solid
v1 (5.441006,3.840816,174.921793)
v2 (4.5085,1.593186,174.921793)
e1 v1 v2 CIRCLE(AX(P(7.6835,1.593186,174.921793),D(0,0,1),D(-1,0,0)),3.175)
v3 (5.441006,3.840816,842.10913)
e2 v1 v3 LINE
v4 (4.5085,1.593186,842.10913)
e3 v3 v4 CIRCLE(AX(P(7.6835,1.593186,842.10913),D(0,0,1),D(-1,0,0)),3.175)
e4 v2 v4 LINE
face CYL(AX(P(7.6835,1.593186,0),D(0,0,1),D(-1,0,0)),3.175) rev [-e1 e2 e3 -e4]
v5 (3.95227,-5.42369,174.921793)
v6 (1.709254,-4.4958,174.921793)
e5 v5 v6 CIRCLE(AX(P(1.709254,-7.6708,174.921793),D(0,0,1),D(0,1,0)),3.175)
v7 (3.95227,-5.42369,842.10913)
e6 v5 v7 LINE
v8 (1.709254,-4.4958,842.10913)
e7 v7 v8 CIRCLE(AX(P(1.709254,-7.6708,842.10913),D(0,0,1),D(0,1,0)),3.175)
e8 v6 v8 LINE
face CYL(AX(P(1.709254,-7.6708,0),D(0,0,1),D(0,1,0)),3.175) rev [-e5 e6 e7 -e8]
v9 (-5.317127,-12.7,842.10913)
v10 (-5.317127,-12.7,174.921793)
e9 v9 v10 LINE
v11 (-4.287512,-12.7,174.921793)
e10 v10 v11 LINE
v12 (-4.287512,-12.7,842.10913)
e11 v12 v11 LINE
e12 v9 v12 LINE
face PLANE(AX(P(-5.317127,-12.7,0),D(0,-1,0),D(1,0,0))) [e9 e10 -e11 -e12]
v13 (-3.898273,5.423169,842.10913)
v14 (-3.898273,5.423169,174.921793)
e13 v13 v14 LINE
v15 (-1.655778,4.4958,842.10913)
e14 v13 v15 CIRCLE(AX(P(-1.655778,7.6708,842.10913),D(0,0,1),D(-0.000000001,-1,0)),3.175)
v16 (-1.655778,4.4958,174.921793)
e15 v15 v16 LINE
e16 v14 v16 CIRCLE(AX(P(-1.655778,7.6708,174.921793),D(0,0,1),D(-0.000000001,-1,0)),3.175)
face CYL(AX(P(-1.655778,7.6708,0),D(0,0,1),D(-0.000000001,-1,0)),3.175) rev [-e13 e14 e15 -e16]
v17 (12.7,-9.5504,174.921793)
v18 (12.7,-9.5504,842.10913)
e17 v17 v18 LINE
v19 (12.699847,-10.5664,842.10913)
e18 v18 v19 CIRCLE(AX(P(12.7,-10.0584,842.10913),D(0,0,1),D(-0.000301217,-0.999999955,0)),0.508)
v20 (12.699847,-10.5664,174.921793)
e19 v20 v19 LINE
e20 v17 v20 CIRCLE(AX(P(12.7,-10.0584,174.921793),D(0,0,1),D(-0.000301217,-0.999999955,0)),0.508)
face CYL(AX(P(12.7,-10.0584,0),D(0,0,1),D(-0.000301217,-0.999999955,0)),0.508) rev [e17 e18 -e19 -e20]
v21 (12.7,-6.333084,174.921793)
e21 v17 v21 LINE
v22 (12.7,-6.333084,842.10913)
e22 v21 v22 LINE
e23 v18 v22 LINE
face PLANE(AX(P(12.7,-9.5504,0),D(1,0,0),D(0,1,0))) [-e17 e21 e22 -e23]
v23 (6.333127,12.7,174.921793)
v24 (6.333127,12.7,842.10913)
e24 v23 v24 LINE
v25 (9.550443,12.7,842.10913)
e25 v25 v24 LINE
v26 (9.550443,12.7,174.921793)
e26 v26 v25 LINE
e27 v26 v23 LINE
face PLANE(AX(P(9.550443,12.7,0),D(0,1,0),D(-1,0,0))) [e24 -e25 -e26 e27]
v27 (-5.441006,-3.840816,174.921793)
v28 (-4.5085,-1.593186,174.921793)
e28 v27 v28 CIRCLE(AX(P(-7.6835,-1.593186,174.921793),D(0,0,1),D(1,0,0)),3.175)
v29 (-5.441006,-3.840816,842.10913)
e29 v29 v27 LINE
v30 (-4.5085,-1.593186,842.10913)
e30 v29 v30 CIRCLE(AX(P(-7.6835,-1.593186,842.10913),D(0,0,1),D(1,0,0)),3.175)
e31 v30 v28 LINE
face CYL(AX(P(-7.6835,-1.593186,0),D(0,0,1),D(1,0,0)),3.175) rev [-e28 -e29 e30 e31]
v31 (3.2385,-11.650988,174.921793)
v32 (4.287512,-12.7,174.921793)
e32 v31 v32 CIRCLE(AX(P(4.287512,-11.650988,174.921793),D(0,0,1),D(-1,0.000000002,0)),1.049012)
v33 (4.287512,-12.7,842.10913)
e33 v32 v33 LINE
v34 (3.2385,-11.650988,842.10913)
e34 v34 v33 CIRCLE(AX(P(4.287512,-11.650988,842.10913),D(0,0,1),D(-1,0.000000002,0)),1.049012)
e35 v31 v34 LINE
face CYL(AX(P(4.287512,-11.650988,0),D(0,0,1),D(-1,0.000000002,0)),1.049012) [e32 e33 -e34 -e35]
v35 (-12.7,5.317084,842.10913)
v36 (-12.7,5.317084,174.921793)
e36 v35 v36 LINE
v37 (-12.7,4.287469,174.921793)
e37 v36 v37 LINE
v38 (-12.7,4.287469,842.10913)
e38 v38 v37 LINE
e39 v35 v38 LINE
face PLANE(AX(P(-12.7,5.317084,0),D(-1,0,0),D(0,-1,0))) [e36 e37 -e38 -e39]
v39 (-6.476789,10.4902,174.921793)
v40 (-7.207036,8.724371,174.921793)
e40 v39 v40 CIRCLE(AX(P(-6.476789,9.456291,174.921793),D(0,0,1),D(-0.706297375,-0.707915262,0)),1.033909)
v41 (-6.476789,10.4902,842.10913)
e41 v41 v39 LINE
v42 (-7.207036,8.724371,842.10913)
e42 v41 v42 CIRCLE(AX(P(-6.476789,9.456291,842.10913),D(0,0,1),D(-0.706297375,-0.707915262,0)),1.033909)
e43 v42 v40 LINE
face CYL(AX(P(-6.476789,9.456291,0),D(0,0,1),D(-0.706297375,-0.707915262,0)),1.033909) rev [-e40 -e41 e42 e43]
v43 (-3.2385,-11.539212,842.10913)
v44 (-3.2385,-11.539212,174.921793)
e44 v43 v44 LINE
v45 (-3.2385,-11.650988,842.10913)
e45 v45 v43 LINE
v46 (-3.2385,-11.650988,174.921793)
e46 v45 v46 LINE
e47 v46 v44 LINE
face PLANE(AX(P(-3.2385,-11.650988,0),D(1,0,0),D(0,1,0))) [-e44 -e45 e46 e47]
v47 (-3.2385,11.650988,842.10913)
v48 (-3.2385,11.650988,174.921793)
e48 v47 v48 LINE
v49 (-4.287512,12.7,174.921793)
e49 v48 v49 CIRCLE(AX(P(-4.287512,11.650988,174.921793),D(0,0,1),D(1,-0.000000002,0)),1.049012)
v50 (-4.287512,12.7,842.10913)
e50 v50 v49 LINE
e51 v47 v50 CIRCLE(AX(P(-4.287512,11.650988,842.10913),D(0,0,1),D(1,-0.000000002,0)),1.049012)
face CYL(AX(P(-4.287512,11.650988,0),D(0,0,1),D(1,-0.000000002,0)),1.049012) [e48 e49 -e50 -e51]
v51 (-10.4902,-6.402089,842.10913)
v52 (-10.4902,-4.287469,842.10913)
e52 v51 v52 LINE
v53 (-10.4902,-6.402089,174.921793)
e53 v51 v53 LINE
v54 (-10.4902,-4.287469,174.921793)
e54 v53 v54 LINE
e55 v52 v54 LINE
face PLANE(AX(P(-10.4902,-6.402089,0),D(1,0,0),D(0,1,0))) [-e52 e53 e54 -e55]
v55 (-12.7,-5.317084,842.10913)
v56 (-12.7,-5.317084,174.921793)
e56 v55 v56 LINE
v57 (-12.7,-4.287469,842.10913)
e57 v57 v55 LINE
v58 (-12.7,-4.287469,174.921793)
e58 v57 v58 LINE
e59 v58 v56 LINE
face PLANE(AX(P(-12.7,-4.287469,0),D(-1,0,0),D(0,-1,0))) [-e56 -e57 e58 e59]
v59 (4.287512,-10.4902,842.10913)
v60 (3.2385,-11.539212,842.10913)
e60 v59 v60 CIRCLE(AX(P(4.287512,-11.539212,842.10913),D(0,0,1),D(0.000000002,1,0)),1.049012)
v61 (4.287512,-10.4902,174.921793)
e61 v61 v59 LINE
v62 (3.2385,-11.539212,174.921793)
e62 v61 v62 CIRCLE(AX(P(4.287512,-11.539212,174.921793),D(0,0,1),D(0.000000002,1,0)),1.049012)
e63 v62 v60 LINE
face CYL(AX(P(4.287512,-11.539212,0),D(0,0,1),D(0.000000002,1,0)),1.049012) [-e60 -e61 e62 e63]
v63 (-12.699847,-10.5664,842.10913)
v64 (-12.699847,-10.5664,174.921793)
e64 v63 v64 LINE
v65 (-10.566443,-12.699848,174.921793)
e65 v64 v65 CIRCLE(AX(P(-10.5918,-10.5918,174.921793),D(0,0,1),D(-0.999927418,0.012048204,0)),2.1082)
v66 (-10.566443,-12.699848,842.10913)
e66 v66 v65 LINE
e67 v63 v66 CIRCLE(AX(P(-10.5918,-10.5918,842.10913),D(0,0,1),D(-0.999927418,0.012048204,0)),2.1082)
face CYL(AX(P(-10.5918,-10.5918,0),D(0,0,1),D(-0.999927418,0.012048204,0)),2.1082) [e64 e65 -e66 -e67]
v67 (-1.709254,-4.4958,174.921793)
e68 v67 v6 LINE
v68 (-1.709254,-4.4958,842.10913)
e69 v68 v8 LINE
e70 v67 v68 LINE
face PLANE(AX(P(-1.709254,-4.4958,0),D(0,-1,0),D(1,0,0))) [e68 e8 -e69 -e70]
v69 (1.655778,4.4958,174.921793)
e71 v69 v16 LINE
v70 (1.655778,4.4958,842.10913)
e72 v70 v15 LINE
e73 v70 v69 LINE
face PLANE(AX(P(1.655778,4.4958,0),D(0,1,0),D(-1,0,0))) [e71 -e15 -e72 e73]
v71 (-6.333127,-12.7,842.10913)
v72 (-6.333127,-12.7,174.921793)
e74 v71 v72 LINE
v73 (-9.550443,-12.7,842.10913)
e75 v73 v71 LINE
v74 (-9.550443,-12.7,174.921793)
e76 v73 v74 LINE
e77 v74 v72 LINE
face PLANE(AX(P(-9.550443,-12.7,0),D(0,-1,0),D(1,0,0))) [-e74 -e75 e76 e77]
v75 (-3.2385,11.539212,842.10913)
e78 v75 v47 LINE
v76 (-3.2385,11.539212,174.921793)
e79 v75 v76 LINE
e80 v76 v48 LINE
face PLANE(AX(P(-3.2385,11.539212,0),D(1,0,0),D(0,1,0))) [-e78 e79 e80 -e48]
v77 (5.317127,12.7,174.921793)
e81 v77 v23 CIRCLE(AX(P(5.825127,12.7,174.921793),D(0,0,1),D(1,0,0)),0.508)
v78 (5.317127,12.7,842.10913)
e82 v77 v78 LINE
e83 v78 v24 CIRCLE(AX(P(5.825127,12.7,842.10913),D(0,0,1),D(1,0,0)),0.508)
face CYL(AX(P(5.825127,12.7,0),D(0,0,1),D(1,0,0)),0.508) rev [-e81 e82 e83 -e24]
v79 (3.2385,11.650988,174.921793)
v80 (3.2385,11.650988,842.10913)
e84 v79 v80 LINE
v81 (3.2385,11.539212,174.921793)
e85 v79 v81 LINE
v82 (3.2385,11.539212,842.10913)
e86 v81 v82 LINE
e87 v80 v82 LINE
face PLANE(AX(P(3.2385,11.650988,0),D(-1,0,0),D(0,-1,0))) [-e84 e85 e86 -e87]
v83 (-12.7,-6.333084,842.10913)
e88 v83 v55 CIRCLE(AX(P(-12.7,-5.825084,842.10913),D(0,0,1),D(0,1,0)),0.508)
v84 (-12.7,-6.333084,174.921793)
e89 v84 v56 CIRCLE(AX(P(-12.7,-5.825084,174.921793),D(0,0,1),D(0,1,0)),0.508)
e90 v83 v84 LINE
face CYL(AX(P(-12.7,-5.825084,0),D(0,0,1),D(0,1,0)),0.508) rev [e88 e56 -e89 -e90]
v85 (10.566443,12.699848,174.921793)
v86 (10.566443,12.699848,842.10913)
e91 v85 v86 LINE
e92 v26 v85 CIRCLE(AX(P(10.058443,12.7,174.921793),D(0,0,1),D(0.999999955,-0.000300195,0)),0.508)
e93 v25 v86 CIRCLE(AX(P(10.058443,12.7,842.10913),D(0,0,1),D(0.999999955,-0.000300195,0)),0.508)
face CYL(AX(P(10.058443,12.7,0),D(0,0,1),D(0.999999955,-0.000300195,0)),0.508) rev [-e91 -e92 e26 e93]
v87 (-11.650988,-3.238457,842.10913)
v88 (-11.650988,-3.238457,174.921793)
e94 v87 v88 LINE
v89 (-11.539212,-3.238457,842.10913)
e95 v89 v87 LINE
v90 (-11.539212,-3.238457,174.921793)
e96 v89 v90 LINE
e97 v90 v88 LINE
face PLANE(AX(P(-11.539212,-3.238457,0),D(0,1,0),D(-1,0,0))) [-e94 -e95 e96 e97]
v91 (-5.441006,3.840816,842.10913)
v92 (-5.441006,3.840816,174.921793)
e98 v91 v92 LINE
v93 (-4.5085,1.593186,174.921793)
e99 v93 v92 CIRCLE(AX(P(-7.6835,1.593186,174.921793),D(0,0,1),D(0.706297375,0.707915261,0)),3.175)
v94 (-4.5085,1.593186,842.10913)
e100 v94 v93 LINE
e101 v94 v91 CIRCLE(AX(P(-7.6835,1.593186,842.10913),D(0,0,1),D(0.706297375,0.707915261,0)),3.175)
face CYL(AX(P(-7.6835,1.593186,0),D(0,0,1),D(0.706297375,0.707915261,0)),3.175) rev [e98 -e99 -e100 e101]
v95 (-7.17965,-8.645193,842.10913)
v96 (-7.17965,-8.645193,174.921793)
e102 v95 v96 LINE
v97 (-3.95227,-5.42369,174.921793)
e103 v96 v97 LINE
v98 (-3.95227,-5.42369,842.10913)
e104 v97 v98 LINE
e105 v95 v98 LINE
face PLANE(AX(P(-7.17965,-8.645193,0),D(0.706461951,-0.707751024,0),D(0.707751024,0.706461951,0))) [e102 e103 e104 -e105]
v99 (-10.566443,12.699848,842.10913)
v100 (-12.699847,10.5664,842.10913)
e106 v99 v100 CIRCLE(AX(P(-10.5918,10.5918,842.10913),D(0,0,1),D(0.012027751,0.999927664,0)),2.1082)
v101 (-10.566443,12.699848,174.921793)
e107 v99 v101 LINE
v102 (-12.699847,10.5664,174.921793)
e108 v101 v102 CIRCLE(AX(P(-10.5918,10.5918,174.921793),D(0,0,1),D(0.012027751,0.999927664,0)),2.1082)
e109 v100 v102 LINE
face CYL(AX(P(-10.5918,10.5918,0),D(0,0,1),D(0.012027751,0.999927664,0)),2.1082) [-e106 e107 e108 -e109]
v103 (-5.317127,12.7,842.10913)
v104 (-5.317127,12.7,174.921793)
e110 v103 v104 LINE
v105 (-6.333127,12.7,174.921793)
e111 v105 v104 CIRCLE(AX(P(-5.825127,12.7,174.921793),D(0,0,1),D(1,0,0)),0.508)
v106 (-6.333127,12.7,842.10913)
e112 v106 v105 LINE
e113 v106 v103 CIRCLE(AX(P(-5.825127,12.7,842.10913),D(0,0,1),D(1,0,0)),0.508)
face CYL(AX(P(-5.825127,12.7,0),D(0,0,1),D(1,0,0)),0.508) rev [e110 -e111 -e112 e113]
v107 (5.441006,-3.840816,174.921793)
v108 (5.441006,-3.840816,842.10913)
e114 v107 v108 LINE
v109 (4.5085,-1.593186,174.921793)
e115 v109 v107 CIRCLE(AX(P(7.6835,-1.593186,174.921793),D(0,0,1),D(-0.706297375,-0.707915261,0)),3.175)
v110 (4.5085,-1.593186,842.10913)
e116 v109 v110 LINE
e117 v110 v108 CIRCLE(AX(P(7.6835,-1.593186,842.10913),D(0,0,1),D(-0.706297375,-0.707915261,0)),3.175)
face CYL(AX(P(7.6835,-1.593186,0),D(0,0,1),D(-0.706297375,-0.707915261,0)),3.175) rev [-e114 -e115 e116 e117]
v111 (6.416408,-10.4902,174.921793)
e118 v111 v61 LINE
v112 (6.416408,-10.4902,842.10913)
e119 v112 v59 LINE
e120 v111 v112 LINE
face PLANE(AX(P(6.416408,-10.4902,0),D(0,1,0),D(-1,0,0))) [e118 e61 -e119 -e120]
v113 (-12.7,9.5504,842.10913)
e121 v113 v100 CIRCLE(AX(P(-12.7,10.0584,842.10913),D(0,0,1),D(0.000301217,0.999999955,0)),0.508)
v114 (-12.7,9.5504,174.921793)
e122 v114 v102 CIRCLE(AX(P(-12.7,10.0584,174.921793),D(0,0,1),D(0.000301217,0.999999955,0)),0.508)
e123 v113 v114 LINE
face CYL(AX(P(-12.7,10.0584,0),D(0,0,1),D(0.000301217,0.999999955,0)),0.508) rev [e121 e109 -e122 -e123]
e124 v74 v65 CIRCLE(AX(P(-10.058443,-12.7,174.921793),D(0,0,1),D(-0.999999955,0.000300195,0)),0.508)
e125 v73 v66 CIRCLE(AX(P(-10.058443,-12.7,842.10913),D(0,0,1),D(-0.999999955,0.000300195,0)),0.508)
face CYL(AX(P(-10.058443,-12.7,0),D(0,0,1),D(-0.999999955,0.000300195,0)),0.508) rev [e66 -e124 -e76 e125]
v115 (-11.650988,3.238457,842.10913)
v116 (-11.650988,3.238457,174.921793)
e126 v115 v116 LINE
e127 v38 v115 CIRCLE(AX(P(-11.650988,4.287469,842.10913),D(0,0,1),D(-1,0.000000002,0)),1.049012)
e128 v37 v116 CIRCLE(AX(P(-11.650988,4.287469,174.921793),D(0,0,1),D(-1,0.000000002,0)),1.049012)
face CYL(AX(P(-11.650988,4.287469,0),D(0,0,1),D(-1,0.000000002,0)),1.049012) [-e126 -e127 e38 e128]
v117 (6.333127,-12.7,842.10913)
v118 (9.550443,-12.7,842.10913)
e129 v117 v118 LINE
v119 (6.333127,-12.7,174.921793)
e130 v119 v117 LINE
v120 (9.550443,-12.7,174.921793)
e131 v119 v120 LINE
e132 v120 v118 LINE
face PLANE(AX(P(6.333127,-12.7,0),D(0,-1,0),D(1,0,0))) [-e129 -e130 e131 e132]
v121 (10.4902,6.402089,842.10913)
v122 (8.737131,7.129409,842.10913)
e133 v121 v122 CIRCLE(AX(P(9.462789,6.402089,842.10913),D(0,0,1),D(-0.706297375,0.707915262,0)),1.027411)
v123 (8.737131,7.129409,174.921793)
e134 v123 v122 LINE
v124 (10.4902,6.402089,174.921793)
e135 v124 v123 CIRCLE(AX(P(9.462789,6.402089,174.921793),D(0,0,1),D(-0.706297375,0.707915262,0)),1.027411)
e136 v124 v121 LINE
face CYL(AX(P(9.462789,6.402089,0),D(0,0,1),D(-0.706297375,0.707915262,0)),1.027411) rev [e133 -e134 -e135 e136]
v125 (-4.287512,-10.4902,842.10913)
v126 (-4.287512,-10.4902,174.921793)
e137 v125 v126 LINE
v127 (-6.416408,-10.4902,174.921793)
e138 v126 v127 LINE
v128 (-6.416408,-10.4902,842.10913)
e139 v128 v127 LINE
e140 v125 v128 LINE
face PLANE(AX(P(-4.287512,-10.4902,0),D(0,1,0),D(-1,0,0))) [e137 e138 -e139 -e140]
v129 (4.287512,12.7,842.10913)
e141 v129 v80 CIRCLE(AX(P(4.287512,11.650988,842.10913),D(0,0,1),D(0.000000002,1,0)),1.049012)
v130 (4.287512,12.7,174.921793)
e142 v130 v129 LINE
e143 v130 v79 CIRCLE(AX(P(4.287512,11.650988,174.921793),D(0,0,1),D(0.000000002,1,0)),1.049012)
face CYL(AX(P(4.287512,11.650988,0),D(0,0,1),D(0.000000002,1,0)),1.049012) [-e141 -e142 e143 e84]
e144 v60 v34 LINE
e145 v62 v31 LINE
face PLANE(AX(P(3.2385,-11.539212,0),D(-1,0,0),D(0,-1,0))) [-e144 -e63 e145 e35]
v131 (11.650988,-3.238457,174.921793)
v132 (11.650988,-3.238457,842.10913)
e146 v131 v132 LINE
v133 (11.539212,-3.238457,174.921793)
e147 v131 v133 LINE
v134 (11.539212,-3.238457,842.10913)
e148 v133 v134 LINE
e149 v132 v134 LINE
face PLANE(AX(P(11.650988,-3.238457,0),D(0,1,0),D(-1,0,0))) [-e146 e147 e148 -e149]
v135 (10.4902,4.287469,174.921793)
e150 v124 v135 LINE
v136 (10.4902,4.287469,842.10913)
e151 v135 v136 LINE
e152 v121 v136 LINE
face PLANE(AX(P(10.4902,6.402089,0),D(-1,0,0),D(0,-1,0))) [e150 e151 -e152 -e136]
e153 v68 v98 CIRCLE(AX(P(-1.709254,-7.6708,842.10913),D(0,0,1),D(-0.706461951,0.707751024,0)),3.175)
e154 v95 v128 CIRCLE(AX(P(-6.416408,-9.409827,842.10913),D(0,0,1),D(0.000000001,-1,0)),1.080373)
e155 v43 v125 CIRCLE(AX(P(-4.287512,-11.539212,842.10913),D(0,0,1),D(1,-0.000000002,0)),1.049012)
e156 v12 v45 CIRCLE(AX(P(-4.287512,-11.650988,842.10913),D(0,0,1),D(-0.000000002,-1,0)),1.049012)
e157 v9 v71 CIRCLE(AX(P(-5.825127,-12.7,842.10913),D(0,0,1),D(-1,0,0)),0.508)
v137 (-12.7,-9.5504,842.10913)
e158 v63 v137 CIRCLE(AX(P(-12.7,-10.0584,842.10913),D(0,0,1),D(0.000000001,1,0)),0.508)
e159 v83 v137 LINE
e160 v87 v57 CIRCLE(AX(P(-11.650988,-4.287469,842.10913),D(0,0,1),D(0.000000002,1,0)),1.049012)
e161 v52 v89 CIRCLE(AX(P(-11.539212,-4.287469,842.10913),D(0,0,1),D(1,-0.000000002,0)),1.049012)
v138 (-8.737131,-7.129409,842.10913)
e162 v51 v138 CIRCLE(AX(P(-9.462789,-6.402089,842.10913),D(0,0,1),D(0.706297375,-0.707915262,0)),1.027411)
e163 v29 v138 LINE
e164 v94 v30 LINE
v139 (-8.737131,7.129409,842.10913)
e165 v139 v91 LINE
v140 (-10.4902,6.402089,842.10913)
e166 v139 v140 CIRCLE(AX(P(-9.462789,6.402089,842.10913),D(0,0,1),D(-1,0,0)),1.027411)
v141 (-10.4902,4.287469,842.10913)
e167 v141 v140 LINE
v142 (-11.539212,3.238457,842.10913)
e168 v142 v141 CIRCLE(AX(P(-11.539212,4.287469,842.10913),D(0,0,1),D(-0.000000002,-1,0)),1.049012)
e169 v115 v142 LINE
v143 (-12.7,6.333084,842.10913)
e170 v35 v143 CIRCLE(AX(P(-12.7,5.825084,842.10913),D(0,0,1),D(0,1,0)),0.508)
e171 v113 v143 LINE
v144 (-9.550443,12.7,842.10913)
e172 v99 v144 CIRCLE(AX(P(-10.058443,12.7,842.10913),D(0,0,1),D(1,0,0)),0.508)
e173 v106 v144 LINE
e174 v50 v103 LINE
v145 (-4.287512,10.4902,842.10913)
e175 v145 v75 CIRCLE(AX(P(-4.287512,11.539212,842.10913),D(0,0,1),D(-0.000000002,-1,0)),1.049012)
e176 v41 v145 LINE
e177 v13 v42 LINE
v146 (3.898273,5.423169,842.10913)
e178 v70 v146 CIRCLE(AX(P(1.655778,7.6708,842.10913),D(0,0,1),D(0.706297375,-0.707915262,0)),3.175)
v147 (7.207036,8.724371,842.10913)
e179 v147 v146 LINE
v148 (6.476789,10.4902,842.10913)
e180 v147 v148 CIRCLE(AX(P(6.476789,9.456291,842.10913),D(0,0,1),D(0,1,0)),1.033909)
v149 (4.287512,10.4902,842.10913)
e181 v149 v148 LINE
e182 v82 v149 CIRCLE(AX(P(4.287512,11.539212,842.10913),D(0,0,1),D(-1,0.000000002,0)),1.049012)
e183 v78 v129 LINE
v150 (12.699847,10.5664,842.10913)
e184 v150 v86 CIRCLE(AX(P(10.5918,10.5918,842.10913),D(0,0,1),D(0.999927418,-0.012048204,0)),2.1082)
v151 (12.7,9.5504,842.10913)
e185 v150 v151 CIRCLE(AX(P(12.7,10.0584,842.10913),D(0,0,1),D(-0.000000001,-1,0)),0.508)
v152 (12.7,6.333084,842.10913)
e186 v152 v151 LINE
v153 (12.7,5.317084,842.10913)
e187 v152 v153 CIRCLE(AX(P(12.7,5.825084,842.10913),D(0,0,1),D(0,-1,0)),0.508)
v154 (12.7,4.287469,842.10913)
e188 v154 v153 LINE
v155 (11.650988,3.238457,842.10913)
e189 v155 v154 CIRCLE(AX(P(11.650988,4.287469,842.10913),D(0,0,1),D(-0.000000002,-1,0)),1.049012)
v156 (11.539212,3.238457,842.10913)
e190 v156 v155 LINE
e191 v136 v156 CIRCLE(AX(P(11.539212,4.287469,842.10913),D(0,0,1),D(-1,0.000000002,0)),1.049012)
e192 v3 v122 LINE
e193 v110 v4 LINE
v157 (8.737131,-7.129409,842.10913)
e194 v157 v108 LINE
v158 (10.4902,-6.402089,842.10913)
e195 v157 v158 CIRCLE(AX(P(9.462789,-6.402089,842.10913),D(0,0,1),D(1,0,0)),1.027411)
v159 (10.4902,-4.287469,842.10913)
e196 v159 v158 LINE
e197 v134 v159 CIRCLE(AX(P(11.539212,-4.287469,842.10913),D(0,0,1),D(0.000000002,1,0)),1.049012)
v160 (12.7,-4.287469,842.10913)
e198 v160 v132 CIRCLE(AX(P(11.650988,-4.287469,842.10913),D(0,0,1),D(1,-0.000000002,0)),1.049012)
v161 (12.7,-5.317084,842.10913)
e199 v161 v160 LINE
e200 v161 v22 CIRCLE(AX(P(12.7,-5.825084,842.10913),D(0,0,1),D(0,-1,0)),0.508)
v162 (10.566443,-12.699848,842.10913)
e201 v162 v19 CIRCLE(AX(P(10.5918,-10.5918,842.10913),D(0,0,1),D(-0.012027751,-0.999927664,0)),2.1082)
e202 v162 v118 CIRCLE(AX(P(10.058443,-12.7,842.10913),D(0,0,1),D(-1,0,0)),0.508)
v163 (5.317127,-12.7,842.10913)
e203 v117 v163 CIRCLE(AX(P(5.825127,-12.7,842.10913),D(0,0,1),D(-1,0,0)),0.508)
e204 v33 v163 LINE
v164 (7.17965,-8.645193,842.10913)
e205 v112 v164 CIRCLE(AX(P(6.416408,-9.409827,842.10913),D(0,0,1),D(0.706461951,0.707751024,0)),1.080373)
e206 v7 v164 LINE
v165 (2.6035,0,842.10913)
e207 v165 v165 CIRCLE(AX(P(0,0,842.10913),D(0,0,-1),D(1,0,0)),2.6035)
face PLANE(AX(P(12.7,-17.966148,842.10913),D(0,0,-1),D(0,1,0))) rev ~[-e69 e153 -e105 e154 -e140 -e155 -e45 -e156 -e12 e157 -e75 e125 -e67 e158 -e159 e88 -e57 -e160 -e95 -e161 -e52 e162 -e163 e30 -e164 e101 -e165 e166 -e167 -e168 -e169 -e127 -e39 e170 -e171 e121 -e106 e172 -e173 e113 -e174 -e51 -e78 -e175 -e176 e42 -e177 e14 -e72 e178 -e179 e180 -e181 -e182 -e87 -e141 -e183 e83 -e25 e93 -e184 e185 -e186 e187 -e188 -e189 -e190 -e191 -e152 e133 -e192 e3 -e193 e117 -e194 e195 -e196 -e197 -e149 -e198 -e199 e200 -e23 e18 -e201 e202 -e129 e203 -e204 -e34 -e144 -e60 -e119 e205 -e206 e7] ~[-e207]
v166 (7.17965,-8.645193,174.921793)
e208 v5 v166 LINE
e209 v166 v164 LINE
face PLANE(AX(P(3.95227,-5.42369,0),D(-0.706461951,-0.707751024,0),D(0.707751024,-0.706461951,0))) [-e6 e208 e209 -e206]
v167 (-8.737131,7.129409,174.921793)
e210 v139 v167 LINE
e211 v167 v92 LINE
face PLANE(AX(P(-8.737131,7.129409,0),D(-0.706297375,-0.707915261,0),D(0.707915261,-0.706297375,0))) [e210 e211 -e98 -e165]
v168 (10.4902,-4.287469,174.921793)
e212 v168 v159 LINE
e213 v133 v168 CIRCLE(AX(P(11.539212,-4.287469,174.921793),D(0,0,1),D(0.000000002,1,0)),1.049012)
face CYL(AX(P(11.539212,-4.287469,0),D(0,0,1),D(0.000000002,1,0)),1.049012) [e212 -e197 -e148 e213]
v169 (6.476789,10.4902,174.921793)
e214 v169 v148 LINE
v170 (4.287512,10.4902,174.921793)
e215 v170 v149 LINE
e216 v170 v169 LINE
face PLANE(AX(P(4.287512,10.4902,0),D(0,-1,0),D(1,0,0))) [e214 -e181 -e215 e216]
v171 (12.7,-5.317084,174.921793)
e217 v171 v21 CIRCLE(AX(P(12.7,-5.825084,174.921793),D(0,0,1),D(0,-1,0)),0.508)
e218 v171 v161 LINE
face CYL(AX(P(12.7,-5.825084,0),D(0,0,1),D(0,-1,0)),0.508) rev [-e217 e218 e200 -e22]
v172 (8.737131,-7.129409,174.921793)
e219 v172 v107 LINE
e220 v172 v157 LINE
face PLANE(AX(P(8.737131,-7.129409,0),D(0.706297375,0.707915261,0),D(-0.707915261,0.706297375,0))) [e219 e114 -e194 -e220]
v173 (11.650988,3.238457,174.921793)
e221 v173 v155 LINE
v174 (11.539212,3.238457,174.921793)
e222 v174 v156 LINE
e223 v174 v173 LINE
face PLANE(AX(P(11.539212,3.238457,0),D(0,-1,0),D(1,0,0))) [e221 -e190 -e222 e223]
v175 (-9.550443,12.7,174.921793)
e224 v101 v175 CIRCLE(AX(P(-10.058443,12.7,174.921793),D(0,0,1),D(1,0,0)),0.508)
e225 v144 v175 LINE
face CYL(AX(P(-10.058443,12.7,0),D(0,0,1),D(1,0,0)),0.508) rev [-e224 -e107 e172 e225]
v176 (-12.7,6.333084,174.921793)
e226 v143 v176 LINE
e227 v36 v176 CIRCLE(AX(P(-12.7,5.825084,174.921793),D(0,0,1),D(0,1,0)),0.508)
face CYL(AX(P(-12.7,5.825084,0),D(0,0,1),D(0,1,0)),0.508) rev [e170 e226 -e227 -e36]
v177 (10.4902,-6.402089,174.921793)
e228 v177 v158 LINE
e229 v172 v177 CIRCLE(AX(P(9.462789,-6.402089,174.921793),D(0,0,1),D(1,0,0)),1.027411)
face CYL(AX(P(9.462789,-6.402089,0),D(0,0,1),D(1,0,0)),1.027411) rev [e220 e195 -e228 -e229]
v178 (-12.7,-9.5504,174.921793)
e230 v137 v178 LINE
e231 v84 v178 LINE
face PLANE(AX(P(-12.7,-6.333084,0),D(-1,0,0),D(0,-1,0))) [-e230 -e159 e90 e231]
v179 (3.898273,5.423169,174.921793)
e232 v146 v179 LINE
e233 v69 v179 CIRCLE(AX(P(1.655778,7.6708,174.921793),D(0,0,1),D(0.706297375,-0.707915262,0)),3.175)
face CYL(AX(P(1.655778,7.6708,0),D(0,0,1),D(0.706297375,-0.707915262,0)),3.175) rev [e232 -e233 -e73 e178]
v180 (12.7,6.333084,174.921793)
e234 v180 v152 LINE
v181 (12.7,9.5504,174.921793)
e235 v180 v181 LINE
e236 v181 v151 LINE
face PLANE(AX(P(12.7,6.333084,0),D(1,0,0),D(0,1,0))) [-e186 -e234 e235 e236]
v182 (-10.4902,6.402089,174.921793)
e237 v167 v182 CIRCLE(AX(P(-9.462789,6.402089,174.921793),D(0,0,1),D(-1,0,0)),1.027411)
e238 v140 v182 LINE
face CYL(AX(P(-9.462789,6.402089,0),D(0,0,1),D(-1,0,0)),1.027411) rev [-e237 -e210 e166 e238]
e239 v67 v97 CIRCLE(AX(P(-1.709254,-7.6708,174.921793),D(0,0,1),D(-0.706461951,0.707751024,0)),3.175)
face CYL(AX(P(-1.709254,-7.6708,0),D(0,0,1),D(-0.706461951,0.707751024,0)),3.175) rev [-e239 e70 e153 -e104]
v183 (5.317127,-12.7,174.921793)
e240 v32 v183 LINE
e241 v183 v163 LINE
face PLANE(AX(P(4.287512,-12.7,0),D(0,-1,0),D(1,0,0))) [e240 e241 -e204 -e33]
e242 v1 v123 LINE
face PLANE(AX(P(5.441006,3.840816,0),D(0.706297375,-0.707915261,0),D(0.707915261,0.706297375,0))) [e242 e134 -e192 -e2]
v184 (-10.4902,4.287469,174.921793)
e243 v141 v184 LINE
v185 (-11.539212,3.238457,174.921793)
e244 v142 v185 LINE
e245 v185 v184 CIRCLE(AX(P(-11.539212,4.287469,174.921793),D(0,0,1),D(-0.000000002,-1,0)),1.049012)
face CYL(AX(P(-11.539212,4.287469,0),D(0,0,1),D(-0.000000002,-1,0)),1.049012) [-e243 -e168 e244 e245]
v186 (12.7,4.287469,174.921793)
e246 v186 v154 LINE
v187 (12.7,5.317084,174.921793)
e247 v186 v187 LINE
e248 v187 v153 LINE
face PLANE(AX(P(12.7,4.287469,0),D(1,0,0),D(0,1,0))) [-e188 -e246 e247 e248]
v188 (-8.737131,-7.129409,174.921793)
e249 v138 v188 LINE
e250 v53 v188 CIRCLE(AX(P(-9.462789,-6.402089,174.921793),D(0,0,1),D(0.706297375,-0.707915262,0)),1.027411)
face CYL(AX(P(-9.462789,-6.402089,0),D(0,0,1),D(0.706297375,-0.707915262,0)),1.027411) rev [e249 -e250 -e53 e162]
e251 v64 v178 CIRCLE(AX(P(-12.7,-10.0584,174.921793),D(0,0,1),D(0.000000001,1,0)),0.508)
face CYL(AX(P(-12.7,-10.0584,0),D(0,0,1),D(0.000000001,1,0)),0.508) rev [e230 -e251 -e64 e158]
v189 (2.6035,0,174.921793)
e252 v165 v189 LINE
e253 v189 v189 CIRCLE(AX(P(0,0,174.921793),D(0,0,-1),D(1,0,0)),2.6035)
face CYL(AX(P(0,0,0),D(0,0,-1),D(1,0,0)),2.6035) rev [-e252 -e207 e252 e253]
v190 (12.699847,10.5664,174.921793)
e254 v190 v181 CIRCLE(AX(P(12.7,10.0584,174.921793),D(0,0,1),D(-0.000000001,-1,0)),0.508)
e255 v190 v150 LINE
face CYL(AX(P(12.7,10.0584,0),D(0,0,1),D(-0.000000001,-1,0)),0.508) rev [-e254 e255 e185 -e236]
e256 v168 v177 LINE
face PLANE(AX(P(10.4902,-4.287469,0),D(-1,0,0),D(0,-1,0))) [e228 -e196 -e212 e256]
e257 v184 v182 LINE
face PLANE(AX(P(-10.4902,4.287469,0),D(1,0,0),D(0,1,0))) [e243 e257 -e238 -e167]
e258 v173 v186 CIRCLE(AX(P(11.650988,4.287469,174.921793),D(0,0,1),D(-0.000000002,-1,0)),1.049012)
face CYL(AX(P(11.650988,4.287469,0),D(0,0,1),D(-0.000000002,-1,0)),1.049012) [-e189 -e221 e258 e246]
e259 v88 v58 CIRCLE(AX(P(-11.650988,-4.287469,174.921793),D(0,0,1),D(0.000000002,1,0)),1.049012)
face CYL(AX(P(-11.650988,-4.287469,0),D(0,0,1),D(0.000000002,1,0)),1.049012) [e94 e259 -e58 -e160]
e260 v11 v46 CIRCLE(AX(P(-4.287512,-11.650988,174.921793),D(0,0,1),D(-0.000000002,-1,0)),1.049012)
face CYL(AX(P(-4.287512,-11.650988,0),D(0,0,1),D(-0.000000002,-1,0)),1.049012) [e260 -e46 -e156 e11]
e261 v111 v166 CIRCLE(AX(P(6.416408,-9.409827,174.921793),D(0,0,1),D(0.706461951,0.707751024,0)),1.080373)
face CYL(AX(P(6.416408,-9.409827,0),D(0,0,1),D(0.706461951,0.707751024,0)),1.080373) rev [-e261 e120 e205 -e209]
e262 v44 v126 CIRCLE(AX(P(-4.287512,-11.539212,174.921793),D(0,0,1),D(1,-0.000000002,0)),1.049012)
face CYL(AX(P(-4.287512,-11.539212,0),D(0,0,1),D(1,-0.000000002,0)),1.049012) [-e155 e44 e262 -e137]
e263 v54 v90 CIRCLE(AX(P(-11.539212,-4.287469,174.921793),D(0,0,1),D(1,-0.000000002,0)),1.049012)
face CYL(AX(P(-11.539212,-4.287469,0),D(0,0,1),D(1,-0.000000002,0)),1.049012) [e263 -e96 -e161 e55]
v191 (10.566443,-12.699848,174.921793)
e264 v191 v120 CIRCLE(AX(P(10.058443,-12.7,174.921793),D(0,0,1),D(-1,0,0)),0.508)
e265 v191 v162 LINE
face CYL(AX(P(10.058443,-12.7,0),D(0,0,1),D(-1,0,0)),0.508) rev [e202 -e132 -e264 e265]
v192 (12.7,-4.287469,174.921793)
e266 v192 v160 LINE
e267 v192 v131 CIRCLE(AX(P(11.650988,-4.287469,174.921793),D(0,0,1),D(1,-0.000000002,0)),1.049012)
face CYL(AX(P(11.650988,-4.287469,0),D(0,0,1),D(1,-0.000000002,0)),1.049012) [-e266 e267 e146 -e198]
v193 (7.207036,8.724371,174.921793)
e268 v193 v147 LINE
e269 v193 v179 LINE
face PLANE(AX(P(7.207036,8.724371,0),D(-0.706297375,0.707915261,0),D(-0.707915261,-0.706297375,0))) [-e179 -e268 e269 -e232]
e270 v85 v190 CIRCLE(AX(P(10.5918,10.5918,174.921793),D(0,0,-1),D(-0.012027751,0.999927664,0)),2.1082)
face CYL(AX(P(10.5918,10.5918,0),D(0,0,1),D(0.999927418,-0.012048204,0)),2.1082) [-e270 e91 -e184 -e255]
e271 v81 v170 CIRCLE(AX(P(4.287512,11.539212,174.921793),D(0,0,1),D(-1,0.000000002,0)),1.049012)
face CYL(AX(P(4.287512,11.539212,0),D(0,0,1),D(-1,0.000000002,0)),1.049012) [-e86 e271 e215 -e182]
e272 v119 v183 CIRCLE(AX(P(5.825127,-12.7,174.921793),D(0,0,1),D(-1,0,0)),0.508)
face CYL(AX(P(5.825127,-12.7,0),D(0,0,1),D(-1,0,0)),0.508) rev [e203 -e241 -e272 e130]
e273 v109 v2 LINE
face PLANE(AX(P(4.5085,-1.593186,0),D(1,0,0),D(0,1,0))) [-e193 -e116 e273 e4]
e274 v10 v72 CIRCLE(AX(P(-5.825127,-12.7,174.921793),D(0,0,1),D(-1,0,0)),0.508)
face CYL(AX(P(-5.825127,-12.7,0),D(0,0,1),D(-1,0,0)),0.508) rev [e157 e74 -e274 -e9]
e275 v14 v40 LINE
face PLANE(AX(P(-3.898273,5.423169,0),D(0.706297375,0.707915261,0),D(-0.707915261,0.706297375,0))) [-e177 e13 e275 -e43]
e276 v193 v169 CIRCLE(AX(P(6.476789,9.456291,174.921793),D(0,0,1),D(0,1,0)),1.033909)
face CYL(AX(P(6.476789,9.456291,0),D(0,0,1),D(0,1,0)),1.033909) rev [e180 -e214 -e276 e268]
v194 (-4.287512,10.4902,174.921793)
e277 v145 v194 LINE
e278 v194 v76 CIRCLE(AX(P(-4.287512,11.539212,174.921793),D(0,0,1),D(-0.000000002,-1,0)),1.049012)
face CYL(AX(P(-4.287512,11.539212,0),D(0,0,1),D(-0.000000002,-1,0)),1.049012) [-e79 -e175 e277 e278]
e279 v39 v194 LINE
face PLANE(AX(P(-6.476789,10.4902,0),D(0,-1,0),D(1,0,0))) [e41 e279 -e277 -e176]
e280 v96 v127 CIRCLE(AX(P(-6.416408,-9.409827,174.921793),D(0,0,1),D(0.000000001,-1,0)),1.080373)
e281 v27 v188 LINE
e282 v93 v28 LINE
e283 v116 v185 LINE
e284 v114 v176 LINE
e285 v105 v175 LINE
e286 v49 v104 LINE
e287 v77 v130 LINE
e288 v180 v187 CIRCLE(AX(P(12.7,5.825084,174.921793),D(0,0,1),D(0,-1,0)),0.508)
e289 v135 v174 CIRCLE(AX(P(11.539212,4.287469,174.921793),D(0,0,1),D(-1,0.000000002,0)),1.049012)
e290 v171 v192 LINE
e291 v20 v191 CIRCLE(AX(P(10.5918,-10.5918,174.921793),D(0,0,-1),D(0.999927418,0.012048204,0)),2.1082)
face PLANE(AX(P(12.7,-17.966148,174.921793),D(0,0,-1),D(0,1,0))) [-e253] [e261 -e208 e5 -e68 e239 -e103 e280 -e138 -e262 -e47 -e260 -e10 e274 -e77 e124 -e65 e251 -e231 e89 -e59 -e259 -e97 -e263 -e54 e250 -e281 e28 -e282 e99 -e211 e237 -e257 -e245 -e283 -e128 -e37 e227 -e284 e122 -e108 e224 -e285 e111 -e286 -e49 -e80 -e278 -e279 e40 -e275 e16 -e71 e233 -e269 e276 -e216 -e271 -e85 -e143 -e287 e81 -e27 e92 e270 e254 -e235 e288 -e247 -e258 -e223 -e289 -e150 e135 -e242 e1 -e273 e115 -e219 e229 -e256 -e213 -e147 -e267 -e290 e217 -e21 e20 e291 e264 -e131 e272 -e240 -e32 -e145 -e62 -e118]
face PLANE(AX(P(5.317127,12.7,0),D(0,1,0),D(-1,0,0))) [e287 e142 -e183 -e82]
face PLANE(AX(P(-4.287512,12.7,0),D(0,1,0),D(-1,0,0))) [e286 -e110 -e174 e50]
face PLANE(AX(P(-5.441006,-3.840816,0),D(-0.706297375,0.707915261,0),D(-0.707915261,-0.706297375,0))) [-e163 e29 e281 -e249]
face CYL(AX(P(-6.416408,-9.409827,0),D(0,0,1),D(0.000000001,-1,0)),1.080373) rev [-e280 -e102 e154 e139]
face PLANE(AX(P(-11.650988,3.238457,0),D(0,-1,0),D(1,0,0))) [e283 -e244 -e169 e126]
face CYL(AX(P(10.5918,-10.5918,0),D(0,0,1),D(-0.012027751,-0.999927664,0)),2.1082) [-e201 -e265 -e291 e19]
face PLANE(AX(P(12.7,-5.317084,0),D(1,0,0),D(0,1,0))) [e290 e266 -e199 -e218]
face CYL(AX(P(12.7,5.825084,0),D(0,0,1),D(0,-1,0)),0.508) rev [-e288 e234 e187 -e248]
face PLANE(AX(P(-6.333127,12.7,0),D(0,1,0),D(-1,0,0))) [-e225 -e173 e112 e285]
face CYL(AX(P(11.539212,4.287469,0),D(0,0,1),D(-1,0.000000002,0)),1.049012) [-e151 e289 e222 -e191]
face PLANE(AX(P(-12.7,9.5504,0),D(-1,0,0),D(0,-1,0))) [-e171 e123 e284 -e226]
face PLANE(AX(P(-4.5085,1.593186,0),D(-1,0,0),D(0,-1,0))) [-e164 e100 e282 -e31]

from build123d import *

# Parameters (mm, degrees)
SKETCH1_R           = 2.6035
BOSS_EXTRUDE1_DEPTH = 914.4
SKETCH2_W           = 76.348142357
SKETCH2_H           = 34.760821459
SKETCH2_W_2         = 1099.97900941
SKETCH2_H_2         = 36.169365112
CUT_EXTRUDE1_DEPTH  = 27.432


with BuildPart() as part:
    # Sketch1 → Boss-Extrude1 (new body, symmetric)
    with BuildSketch(Plane.XY):
        with BuildLine():
            Line((-7.179650497, -8.645192506), (-3.952270251, -5.423690499))
            ThreePointArc((-3.952270251, -5.423690499), (-2.922936451, -4.736929036), (-1.709253557, -4.4958))
            Line((-1.709253557, -4.4958), (1.709253557, -4.4958))
            ThreePointArc((1.709253557, -4.4958), (2.922936451, -4.736929036), (3.952270251, -5.423690499))
            Line((3.952270251, -5.423690499), (7.179650497, -8.645192506))
            ThreePointArc((7.179650497, -8.645192506), (7.41473083, -9.822813117), (6.416408329, -10.4902))
            Line((6.416408329, -10.4902), (4.287512407, -10.4902))
            ThreePointArc((4.287512407, -10.4902), (3.54574862, -10.79744862), (3.2385, -11.539212407))
            Line((3.2385, -11.539212407), (3.2385, -11.650987593))
            ThreePointArc((3.2385, -11.650987593), (3.54574862, -12.39275138), (4.287512407, -12.7))
            Line((4.287512407, -12.7), (5.317126718, -12.7))
            ThreePointArc((5.317126718, -12.7), (5.825126718, -12.192), (6.333126718, -12.7))
            Line((6.333126718, -12.7), (9.550443118, -12.7))
            ThreePointArc((9.550443118, -12.7), (10.058366869, -12.192000006), (10.566443095, -12.699847501))
            ThreePointArc((10.566443095, -12.699847501), (12.082537762, -12.08250727), (12.699846982, -10.566399977))
            ThreePointArc((12.699846982, -10.566399977), (12.192000006, -10.058323491), (12.7, -9.5504))
            Line((12.7, -9.5504), (12.7, -6.3330836))
            ThreePointArc((12.7, -6.3330836), (12.192, -5.8250836), (12.7, -5.3170836))
            Line((12.7, -5.3170836), (12.7, -4.287469289))
            ThreePointArc((12.7, -4.287469289), (12.39275138, -3.545705502), (11.650987593, -3.238456882))
            Line((11.650987593, -3.238456882), (11.539212407, -3.238456882))
            ThreePointArc((11.539212407, -3.238456882), (10.79744862, -3.545705502), (10.4902, -4.287469289))
            Line((10.4902, -4.287469289), (10.4902, -6.402089023))
            ThreePointArc((10.4902, -6.402089023), (9.856505071, -7.351067942), (8.737131347, -7.129408934))
            Line((8.737131347, -7.129408934), (5.441005833, -3.840816462))
            ThreePointArc((5.441005833, -3.840816462), (4.750877967, -2.809883091), (4.5085, -1.593185507))
            Line((4.5085, -1.593185507), (4.5085, 1.593185507))
            ThreePointArc((4.5085, 1.593185507), (4.750877967, 2.809883091), (5.441005833, 3.840816462))
            Line((5.441005833, 3.840816462), (8.737131347, 7.129408934))
            ThreePointArc((8.737131347, 7.129408934), (9.856505071, 7.351067942), (10.4902, 6.402089023))
            Line((10.4902, 6.402089023), (10.4902, 4.287469289))
            ThreePointArc((10.4902, 4.287469289), (10.79744862, 3.545705502), (11.539212407, 3.238456882))
            Line((11.539212407, 3.238456882), (11.650987593, 3.238456882))
            ThreePointArc((11.650987593, 3.238456882), (12.39275138, 3.545705502), (12.7, 4.287469289))
            Line((12.7, 4.287469289), (12.7, 5.3170836))
            ThreePointArc((12.7, 5.3170836), (12.192, 5.8250836), (12.7, 6.3330836))
            Line((12.7, 6.3330836), (12.7, 9.5504))
            ThreePointArc((12.7, 9.5504), (12.192000006, 10.058323491), (12.699846982, 10.566399977))
            ThreePointArc((12.699846982, 10.566399977), (12.082537762, 12.08250727), (10.566443095, 12.699847501))
            ThreePointArc((10.566443095, 12.699847501), (10.058366869, 12.192000006), (9.550443118, 12.7))
            Line((9.550443118, 12.7), (6.333126718, 12.7))
            ThreePointArc((6.333126718, 12.7), (5.825126718, 12.192), (5.317126718, 12.7))
            Line((5.317126718, 12.7), (4.287512407, 12.7))
            ThreePointArc((4.287512407, 12.7), (3.54574862, 12.39275138), (3.2385, 11.650987593))
            Line((3.2385, 11.650987593), (3.2385, 11.539212407))
            ThreePointArc((3.2385, 11.539212407), (3.54574862, 10.79744862), (4.287512407, 10.4902))
            Line((4.287512407, 10.4902), (6.476788598, 10.4902))
            ThreePointArc((6.476788598, 10.4902), (7.432222385, 9.85140422), (7.207036008, 8.724370562))
            Line((7.207036008, 8.724370562), (3.898272566, 5.423169045))
            ThreePointArc((3.898272566, 5.423169045), (2.869120213, 4.736787962), (1.655778399, 4.4958))
            Line((1.655778399, 4.4958), (-1.655778399, 4.4958))
            ThreePointArc((-1.655778399, 4.4958), (-2.869120213, 4.736787962), (-3.898272566, 5.423169045))
            Line((-3.898272566, 5.423169045), (-7.207036008, 8.724370562))
            ThreePointArc((-7.207036008, 8.724370562), (-7.432222385, 9.85140422), (-6.476788598, 10.4902))
            Line((-6.476788598, 10.4902), (-4.287512407, 10.4902))
            ThreePointArc((-4.287512407, 10.4902), (-3.54574862, 10.79744862), (-3.2385, 11.539212407))
            Line((-3.2385, 11.539212407), (-3.2385, 11.650987593))
            ThreePointArc((-3.2385, 11.650987593), (-3.54574862, 12.39275138), (-4.287512407, 12.7))
            Line((-4.287512407, 12.7), (-5.317126718, 12.7))
            ThreePointArc((-5.317126718, 12.7), (-5.825126718, 12.192), (-6.333126718, 12.7))
            Line((-6.333126718, 12.7), (-9.550443118, 12.7))
            ThreePointArc((-9.550443118, 12.7), (-10.058366869, 12.192000006), (-10.566443095, 12.699847501))
            ThreePointArc((-10.566443095, 12.699847501), (-12.082537762, 12.08250727), (-12.699846982, 10.566399977))
            ThreePointArc((-12.699846982, 10.566399977), (-12.192000006, 10.058323491), (-12.7, 9.5504))
            Line((-12.7, 9.5504), (-12.7, 6.3330836))
            ThreePointArc((-12.7, 6.3330836), (-12.192, 5.8250836), (-12.7, 5.3170836))
            Line((-12.7, 5.3170836), (-12.7, 4.287469289))
            ThreePointArc((-12.7, 4.287469289), (-12.39275138, 3.545705502), (-11.650987593, 3.238456882))
            Line((-11.650987593, 3.238456882), (-11.539212407, 3.238456882))
            ThreePointArc((-11.539212407, 3.238456882), (-10.79744862, 3.545705502), (-10.4902, 4.287469289))
            Line((-10.4902, 4.287469289), (-10.4902, 6.402089023))
            ThreePointArc((-10.4902, 6.402089023), (-9.856505071, 7.351067942), (-8.737131347, 7.129408934))
            Line((-8.737131347, 7.129408934), (-5.441005833, 3.840816462))
            ThreePointArc((-5.441005833, 3.840816462), (-4.750877967, 2.809883091), (-4.5085, 1.593185507))
            Line((-4.5085, 1.593185507), (-4.5085, -1.593185507))
            ThreePointArc((-4.5085, -1.593185507), (-4.750877967, -2.809883091), (-5.441005833, -3.840816462))
            Line((-5.441005833, -3.840816462), (-8.737131347, -7.129408934))
            ThreePointArc((-8.737131347, -7.129408934), (-9.856505071, -7.351067942), (-10.4902, -6.402089023))
            Line((-10.4902, -6.402089023), (-10.4902, -4.287469289))
            ThreePointArc((-10.4902, -4.287469289), (-10.79744862, -3.545705502), (-11.539212407, -3.238456882))
            Line((-11.539212407, -3.238456882), (-11.650987593, -3.238456882))
            ThreePointArc((-11.650987593, -3.238456882), (-12.39275138, -3.545705502), (-12.7, -4.287469289))
            Line((-12.7, -4.287469289), (-12.7, -5.3170836))
            ThreePointArc((-12.7, -5.3170836), (-12.192, -5.8250836), (-12.7, -6.3330836))
            Line((-12.7, -6.3330836), (-12.7, -9.5504))
            ThreePointArc((-12.7, -9.5504), (-12.192000006, -10.058323491), (-12.699846982, -10.566399977))
            ThreePointArc((-12.699846982, -10.566399977), (-12.082537762, -12.08250727), (-10.566443095, -12.699847501))
            ThreePointArc((-10.566443095, -12.699847501), (-10.058366869, -12.192000006), (-9.550443118, -12.7))
            Line((-9.550443118, -12.7), (-6.333126718, -12.7))
            ThreePointArc((-6.333126718, -12.7), (-5.825126718, -12.192), (-5.317126718, -12.7))
            Line((-5.317126718, -12.7), (-4.287512407, -12.7))
            ThreePointArc((-4.287512407, -12.7), (-3.54574862, -12.39275138), (-3.2385, -11.650987593))
            Line((-3.2385, -11.650987593), (-3.2385, -11.539212407))
            ThreePointArc((-3.2385, -11.539212407), (-3.54574862, -10.79744862), (-4.287512407, -10.4902))
            Line((-4.287512407, -10.4902), (-6.416408329, -10.4902))
            ThreePointArc((-6.416408329, -10.4902), (-7.41473083, -9.822813117), (-7.179650497, -8.645192506))
        make_face()
        Circle(SKETCH1_R, mode=Mode.SUBTRACT)
    extrude(amount=BOSS_EXTRUDE1_DEPTH, both=True)

    # Sketch2 → Cut-Extrude1 (cut)
    with BuildSketch(Plane(origin=(12.7, 0, 0), x_dir=(0, 0, -1), z_dir=(1, 0, 0))):
        with Locations((-880.283201428, -0.58573738)):
            Rectangle(SKETCH2_W, SKETCH2_H)
        with Locations((375.067711741, 0.118534447)):
            Rectangle(SKETCH2_W_2, SKETCH2_H_2)
    extrude(amount=-CUT_EXTRUDE1_DEPTH, mode=Mode.SUBTRACT)


solid = part.part
